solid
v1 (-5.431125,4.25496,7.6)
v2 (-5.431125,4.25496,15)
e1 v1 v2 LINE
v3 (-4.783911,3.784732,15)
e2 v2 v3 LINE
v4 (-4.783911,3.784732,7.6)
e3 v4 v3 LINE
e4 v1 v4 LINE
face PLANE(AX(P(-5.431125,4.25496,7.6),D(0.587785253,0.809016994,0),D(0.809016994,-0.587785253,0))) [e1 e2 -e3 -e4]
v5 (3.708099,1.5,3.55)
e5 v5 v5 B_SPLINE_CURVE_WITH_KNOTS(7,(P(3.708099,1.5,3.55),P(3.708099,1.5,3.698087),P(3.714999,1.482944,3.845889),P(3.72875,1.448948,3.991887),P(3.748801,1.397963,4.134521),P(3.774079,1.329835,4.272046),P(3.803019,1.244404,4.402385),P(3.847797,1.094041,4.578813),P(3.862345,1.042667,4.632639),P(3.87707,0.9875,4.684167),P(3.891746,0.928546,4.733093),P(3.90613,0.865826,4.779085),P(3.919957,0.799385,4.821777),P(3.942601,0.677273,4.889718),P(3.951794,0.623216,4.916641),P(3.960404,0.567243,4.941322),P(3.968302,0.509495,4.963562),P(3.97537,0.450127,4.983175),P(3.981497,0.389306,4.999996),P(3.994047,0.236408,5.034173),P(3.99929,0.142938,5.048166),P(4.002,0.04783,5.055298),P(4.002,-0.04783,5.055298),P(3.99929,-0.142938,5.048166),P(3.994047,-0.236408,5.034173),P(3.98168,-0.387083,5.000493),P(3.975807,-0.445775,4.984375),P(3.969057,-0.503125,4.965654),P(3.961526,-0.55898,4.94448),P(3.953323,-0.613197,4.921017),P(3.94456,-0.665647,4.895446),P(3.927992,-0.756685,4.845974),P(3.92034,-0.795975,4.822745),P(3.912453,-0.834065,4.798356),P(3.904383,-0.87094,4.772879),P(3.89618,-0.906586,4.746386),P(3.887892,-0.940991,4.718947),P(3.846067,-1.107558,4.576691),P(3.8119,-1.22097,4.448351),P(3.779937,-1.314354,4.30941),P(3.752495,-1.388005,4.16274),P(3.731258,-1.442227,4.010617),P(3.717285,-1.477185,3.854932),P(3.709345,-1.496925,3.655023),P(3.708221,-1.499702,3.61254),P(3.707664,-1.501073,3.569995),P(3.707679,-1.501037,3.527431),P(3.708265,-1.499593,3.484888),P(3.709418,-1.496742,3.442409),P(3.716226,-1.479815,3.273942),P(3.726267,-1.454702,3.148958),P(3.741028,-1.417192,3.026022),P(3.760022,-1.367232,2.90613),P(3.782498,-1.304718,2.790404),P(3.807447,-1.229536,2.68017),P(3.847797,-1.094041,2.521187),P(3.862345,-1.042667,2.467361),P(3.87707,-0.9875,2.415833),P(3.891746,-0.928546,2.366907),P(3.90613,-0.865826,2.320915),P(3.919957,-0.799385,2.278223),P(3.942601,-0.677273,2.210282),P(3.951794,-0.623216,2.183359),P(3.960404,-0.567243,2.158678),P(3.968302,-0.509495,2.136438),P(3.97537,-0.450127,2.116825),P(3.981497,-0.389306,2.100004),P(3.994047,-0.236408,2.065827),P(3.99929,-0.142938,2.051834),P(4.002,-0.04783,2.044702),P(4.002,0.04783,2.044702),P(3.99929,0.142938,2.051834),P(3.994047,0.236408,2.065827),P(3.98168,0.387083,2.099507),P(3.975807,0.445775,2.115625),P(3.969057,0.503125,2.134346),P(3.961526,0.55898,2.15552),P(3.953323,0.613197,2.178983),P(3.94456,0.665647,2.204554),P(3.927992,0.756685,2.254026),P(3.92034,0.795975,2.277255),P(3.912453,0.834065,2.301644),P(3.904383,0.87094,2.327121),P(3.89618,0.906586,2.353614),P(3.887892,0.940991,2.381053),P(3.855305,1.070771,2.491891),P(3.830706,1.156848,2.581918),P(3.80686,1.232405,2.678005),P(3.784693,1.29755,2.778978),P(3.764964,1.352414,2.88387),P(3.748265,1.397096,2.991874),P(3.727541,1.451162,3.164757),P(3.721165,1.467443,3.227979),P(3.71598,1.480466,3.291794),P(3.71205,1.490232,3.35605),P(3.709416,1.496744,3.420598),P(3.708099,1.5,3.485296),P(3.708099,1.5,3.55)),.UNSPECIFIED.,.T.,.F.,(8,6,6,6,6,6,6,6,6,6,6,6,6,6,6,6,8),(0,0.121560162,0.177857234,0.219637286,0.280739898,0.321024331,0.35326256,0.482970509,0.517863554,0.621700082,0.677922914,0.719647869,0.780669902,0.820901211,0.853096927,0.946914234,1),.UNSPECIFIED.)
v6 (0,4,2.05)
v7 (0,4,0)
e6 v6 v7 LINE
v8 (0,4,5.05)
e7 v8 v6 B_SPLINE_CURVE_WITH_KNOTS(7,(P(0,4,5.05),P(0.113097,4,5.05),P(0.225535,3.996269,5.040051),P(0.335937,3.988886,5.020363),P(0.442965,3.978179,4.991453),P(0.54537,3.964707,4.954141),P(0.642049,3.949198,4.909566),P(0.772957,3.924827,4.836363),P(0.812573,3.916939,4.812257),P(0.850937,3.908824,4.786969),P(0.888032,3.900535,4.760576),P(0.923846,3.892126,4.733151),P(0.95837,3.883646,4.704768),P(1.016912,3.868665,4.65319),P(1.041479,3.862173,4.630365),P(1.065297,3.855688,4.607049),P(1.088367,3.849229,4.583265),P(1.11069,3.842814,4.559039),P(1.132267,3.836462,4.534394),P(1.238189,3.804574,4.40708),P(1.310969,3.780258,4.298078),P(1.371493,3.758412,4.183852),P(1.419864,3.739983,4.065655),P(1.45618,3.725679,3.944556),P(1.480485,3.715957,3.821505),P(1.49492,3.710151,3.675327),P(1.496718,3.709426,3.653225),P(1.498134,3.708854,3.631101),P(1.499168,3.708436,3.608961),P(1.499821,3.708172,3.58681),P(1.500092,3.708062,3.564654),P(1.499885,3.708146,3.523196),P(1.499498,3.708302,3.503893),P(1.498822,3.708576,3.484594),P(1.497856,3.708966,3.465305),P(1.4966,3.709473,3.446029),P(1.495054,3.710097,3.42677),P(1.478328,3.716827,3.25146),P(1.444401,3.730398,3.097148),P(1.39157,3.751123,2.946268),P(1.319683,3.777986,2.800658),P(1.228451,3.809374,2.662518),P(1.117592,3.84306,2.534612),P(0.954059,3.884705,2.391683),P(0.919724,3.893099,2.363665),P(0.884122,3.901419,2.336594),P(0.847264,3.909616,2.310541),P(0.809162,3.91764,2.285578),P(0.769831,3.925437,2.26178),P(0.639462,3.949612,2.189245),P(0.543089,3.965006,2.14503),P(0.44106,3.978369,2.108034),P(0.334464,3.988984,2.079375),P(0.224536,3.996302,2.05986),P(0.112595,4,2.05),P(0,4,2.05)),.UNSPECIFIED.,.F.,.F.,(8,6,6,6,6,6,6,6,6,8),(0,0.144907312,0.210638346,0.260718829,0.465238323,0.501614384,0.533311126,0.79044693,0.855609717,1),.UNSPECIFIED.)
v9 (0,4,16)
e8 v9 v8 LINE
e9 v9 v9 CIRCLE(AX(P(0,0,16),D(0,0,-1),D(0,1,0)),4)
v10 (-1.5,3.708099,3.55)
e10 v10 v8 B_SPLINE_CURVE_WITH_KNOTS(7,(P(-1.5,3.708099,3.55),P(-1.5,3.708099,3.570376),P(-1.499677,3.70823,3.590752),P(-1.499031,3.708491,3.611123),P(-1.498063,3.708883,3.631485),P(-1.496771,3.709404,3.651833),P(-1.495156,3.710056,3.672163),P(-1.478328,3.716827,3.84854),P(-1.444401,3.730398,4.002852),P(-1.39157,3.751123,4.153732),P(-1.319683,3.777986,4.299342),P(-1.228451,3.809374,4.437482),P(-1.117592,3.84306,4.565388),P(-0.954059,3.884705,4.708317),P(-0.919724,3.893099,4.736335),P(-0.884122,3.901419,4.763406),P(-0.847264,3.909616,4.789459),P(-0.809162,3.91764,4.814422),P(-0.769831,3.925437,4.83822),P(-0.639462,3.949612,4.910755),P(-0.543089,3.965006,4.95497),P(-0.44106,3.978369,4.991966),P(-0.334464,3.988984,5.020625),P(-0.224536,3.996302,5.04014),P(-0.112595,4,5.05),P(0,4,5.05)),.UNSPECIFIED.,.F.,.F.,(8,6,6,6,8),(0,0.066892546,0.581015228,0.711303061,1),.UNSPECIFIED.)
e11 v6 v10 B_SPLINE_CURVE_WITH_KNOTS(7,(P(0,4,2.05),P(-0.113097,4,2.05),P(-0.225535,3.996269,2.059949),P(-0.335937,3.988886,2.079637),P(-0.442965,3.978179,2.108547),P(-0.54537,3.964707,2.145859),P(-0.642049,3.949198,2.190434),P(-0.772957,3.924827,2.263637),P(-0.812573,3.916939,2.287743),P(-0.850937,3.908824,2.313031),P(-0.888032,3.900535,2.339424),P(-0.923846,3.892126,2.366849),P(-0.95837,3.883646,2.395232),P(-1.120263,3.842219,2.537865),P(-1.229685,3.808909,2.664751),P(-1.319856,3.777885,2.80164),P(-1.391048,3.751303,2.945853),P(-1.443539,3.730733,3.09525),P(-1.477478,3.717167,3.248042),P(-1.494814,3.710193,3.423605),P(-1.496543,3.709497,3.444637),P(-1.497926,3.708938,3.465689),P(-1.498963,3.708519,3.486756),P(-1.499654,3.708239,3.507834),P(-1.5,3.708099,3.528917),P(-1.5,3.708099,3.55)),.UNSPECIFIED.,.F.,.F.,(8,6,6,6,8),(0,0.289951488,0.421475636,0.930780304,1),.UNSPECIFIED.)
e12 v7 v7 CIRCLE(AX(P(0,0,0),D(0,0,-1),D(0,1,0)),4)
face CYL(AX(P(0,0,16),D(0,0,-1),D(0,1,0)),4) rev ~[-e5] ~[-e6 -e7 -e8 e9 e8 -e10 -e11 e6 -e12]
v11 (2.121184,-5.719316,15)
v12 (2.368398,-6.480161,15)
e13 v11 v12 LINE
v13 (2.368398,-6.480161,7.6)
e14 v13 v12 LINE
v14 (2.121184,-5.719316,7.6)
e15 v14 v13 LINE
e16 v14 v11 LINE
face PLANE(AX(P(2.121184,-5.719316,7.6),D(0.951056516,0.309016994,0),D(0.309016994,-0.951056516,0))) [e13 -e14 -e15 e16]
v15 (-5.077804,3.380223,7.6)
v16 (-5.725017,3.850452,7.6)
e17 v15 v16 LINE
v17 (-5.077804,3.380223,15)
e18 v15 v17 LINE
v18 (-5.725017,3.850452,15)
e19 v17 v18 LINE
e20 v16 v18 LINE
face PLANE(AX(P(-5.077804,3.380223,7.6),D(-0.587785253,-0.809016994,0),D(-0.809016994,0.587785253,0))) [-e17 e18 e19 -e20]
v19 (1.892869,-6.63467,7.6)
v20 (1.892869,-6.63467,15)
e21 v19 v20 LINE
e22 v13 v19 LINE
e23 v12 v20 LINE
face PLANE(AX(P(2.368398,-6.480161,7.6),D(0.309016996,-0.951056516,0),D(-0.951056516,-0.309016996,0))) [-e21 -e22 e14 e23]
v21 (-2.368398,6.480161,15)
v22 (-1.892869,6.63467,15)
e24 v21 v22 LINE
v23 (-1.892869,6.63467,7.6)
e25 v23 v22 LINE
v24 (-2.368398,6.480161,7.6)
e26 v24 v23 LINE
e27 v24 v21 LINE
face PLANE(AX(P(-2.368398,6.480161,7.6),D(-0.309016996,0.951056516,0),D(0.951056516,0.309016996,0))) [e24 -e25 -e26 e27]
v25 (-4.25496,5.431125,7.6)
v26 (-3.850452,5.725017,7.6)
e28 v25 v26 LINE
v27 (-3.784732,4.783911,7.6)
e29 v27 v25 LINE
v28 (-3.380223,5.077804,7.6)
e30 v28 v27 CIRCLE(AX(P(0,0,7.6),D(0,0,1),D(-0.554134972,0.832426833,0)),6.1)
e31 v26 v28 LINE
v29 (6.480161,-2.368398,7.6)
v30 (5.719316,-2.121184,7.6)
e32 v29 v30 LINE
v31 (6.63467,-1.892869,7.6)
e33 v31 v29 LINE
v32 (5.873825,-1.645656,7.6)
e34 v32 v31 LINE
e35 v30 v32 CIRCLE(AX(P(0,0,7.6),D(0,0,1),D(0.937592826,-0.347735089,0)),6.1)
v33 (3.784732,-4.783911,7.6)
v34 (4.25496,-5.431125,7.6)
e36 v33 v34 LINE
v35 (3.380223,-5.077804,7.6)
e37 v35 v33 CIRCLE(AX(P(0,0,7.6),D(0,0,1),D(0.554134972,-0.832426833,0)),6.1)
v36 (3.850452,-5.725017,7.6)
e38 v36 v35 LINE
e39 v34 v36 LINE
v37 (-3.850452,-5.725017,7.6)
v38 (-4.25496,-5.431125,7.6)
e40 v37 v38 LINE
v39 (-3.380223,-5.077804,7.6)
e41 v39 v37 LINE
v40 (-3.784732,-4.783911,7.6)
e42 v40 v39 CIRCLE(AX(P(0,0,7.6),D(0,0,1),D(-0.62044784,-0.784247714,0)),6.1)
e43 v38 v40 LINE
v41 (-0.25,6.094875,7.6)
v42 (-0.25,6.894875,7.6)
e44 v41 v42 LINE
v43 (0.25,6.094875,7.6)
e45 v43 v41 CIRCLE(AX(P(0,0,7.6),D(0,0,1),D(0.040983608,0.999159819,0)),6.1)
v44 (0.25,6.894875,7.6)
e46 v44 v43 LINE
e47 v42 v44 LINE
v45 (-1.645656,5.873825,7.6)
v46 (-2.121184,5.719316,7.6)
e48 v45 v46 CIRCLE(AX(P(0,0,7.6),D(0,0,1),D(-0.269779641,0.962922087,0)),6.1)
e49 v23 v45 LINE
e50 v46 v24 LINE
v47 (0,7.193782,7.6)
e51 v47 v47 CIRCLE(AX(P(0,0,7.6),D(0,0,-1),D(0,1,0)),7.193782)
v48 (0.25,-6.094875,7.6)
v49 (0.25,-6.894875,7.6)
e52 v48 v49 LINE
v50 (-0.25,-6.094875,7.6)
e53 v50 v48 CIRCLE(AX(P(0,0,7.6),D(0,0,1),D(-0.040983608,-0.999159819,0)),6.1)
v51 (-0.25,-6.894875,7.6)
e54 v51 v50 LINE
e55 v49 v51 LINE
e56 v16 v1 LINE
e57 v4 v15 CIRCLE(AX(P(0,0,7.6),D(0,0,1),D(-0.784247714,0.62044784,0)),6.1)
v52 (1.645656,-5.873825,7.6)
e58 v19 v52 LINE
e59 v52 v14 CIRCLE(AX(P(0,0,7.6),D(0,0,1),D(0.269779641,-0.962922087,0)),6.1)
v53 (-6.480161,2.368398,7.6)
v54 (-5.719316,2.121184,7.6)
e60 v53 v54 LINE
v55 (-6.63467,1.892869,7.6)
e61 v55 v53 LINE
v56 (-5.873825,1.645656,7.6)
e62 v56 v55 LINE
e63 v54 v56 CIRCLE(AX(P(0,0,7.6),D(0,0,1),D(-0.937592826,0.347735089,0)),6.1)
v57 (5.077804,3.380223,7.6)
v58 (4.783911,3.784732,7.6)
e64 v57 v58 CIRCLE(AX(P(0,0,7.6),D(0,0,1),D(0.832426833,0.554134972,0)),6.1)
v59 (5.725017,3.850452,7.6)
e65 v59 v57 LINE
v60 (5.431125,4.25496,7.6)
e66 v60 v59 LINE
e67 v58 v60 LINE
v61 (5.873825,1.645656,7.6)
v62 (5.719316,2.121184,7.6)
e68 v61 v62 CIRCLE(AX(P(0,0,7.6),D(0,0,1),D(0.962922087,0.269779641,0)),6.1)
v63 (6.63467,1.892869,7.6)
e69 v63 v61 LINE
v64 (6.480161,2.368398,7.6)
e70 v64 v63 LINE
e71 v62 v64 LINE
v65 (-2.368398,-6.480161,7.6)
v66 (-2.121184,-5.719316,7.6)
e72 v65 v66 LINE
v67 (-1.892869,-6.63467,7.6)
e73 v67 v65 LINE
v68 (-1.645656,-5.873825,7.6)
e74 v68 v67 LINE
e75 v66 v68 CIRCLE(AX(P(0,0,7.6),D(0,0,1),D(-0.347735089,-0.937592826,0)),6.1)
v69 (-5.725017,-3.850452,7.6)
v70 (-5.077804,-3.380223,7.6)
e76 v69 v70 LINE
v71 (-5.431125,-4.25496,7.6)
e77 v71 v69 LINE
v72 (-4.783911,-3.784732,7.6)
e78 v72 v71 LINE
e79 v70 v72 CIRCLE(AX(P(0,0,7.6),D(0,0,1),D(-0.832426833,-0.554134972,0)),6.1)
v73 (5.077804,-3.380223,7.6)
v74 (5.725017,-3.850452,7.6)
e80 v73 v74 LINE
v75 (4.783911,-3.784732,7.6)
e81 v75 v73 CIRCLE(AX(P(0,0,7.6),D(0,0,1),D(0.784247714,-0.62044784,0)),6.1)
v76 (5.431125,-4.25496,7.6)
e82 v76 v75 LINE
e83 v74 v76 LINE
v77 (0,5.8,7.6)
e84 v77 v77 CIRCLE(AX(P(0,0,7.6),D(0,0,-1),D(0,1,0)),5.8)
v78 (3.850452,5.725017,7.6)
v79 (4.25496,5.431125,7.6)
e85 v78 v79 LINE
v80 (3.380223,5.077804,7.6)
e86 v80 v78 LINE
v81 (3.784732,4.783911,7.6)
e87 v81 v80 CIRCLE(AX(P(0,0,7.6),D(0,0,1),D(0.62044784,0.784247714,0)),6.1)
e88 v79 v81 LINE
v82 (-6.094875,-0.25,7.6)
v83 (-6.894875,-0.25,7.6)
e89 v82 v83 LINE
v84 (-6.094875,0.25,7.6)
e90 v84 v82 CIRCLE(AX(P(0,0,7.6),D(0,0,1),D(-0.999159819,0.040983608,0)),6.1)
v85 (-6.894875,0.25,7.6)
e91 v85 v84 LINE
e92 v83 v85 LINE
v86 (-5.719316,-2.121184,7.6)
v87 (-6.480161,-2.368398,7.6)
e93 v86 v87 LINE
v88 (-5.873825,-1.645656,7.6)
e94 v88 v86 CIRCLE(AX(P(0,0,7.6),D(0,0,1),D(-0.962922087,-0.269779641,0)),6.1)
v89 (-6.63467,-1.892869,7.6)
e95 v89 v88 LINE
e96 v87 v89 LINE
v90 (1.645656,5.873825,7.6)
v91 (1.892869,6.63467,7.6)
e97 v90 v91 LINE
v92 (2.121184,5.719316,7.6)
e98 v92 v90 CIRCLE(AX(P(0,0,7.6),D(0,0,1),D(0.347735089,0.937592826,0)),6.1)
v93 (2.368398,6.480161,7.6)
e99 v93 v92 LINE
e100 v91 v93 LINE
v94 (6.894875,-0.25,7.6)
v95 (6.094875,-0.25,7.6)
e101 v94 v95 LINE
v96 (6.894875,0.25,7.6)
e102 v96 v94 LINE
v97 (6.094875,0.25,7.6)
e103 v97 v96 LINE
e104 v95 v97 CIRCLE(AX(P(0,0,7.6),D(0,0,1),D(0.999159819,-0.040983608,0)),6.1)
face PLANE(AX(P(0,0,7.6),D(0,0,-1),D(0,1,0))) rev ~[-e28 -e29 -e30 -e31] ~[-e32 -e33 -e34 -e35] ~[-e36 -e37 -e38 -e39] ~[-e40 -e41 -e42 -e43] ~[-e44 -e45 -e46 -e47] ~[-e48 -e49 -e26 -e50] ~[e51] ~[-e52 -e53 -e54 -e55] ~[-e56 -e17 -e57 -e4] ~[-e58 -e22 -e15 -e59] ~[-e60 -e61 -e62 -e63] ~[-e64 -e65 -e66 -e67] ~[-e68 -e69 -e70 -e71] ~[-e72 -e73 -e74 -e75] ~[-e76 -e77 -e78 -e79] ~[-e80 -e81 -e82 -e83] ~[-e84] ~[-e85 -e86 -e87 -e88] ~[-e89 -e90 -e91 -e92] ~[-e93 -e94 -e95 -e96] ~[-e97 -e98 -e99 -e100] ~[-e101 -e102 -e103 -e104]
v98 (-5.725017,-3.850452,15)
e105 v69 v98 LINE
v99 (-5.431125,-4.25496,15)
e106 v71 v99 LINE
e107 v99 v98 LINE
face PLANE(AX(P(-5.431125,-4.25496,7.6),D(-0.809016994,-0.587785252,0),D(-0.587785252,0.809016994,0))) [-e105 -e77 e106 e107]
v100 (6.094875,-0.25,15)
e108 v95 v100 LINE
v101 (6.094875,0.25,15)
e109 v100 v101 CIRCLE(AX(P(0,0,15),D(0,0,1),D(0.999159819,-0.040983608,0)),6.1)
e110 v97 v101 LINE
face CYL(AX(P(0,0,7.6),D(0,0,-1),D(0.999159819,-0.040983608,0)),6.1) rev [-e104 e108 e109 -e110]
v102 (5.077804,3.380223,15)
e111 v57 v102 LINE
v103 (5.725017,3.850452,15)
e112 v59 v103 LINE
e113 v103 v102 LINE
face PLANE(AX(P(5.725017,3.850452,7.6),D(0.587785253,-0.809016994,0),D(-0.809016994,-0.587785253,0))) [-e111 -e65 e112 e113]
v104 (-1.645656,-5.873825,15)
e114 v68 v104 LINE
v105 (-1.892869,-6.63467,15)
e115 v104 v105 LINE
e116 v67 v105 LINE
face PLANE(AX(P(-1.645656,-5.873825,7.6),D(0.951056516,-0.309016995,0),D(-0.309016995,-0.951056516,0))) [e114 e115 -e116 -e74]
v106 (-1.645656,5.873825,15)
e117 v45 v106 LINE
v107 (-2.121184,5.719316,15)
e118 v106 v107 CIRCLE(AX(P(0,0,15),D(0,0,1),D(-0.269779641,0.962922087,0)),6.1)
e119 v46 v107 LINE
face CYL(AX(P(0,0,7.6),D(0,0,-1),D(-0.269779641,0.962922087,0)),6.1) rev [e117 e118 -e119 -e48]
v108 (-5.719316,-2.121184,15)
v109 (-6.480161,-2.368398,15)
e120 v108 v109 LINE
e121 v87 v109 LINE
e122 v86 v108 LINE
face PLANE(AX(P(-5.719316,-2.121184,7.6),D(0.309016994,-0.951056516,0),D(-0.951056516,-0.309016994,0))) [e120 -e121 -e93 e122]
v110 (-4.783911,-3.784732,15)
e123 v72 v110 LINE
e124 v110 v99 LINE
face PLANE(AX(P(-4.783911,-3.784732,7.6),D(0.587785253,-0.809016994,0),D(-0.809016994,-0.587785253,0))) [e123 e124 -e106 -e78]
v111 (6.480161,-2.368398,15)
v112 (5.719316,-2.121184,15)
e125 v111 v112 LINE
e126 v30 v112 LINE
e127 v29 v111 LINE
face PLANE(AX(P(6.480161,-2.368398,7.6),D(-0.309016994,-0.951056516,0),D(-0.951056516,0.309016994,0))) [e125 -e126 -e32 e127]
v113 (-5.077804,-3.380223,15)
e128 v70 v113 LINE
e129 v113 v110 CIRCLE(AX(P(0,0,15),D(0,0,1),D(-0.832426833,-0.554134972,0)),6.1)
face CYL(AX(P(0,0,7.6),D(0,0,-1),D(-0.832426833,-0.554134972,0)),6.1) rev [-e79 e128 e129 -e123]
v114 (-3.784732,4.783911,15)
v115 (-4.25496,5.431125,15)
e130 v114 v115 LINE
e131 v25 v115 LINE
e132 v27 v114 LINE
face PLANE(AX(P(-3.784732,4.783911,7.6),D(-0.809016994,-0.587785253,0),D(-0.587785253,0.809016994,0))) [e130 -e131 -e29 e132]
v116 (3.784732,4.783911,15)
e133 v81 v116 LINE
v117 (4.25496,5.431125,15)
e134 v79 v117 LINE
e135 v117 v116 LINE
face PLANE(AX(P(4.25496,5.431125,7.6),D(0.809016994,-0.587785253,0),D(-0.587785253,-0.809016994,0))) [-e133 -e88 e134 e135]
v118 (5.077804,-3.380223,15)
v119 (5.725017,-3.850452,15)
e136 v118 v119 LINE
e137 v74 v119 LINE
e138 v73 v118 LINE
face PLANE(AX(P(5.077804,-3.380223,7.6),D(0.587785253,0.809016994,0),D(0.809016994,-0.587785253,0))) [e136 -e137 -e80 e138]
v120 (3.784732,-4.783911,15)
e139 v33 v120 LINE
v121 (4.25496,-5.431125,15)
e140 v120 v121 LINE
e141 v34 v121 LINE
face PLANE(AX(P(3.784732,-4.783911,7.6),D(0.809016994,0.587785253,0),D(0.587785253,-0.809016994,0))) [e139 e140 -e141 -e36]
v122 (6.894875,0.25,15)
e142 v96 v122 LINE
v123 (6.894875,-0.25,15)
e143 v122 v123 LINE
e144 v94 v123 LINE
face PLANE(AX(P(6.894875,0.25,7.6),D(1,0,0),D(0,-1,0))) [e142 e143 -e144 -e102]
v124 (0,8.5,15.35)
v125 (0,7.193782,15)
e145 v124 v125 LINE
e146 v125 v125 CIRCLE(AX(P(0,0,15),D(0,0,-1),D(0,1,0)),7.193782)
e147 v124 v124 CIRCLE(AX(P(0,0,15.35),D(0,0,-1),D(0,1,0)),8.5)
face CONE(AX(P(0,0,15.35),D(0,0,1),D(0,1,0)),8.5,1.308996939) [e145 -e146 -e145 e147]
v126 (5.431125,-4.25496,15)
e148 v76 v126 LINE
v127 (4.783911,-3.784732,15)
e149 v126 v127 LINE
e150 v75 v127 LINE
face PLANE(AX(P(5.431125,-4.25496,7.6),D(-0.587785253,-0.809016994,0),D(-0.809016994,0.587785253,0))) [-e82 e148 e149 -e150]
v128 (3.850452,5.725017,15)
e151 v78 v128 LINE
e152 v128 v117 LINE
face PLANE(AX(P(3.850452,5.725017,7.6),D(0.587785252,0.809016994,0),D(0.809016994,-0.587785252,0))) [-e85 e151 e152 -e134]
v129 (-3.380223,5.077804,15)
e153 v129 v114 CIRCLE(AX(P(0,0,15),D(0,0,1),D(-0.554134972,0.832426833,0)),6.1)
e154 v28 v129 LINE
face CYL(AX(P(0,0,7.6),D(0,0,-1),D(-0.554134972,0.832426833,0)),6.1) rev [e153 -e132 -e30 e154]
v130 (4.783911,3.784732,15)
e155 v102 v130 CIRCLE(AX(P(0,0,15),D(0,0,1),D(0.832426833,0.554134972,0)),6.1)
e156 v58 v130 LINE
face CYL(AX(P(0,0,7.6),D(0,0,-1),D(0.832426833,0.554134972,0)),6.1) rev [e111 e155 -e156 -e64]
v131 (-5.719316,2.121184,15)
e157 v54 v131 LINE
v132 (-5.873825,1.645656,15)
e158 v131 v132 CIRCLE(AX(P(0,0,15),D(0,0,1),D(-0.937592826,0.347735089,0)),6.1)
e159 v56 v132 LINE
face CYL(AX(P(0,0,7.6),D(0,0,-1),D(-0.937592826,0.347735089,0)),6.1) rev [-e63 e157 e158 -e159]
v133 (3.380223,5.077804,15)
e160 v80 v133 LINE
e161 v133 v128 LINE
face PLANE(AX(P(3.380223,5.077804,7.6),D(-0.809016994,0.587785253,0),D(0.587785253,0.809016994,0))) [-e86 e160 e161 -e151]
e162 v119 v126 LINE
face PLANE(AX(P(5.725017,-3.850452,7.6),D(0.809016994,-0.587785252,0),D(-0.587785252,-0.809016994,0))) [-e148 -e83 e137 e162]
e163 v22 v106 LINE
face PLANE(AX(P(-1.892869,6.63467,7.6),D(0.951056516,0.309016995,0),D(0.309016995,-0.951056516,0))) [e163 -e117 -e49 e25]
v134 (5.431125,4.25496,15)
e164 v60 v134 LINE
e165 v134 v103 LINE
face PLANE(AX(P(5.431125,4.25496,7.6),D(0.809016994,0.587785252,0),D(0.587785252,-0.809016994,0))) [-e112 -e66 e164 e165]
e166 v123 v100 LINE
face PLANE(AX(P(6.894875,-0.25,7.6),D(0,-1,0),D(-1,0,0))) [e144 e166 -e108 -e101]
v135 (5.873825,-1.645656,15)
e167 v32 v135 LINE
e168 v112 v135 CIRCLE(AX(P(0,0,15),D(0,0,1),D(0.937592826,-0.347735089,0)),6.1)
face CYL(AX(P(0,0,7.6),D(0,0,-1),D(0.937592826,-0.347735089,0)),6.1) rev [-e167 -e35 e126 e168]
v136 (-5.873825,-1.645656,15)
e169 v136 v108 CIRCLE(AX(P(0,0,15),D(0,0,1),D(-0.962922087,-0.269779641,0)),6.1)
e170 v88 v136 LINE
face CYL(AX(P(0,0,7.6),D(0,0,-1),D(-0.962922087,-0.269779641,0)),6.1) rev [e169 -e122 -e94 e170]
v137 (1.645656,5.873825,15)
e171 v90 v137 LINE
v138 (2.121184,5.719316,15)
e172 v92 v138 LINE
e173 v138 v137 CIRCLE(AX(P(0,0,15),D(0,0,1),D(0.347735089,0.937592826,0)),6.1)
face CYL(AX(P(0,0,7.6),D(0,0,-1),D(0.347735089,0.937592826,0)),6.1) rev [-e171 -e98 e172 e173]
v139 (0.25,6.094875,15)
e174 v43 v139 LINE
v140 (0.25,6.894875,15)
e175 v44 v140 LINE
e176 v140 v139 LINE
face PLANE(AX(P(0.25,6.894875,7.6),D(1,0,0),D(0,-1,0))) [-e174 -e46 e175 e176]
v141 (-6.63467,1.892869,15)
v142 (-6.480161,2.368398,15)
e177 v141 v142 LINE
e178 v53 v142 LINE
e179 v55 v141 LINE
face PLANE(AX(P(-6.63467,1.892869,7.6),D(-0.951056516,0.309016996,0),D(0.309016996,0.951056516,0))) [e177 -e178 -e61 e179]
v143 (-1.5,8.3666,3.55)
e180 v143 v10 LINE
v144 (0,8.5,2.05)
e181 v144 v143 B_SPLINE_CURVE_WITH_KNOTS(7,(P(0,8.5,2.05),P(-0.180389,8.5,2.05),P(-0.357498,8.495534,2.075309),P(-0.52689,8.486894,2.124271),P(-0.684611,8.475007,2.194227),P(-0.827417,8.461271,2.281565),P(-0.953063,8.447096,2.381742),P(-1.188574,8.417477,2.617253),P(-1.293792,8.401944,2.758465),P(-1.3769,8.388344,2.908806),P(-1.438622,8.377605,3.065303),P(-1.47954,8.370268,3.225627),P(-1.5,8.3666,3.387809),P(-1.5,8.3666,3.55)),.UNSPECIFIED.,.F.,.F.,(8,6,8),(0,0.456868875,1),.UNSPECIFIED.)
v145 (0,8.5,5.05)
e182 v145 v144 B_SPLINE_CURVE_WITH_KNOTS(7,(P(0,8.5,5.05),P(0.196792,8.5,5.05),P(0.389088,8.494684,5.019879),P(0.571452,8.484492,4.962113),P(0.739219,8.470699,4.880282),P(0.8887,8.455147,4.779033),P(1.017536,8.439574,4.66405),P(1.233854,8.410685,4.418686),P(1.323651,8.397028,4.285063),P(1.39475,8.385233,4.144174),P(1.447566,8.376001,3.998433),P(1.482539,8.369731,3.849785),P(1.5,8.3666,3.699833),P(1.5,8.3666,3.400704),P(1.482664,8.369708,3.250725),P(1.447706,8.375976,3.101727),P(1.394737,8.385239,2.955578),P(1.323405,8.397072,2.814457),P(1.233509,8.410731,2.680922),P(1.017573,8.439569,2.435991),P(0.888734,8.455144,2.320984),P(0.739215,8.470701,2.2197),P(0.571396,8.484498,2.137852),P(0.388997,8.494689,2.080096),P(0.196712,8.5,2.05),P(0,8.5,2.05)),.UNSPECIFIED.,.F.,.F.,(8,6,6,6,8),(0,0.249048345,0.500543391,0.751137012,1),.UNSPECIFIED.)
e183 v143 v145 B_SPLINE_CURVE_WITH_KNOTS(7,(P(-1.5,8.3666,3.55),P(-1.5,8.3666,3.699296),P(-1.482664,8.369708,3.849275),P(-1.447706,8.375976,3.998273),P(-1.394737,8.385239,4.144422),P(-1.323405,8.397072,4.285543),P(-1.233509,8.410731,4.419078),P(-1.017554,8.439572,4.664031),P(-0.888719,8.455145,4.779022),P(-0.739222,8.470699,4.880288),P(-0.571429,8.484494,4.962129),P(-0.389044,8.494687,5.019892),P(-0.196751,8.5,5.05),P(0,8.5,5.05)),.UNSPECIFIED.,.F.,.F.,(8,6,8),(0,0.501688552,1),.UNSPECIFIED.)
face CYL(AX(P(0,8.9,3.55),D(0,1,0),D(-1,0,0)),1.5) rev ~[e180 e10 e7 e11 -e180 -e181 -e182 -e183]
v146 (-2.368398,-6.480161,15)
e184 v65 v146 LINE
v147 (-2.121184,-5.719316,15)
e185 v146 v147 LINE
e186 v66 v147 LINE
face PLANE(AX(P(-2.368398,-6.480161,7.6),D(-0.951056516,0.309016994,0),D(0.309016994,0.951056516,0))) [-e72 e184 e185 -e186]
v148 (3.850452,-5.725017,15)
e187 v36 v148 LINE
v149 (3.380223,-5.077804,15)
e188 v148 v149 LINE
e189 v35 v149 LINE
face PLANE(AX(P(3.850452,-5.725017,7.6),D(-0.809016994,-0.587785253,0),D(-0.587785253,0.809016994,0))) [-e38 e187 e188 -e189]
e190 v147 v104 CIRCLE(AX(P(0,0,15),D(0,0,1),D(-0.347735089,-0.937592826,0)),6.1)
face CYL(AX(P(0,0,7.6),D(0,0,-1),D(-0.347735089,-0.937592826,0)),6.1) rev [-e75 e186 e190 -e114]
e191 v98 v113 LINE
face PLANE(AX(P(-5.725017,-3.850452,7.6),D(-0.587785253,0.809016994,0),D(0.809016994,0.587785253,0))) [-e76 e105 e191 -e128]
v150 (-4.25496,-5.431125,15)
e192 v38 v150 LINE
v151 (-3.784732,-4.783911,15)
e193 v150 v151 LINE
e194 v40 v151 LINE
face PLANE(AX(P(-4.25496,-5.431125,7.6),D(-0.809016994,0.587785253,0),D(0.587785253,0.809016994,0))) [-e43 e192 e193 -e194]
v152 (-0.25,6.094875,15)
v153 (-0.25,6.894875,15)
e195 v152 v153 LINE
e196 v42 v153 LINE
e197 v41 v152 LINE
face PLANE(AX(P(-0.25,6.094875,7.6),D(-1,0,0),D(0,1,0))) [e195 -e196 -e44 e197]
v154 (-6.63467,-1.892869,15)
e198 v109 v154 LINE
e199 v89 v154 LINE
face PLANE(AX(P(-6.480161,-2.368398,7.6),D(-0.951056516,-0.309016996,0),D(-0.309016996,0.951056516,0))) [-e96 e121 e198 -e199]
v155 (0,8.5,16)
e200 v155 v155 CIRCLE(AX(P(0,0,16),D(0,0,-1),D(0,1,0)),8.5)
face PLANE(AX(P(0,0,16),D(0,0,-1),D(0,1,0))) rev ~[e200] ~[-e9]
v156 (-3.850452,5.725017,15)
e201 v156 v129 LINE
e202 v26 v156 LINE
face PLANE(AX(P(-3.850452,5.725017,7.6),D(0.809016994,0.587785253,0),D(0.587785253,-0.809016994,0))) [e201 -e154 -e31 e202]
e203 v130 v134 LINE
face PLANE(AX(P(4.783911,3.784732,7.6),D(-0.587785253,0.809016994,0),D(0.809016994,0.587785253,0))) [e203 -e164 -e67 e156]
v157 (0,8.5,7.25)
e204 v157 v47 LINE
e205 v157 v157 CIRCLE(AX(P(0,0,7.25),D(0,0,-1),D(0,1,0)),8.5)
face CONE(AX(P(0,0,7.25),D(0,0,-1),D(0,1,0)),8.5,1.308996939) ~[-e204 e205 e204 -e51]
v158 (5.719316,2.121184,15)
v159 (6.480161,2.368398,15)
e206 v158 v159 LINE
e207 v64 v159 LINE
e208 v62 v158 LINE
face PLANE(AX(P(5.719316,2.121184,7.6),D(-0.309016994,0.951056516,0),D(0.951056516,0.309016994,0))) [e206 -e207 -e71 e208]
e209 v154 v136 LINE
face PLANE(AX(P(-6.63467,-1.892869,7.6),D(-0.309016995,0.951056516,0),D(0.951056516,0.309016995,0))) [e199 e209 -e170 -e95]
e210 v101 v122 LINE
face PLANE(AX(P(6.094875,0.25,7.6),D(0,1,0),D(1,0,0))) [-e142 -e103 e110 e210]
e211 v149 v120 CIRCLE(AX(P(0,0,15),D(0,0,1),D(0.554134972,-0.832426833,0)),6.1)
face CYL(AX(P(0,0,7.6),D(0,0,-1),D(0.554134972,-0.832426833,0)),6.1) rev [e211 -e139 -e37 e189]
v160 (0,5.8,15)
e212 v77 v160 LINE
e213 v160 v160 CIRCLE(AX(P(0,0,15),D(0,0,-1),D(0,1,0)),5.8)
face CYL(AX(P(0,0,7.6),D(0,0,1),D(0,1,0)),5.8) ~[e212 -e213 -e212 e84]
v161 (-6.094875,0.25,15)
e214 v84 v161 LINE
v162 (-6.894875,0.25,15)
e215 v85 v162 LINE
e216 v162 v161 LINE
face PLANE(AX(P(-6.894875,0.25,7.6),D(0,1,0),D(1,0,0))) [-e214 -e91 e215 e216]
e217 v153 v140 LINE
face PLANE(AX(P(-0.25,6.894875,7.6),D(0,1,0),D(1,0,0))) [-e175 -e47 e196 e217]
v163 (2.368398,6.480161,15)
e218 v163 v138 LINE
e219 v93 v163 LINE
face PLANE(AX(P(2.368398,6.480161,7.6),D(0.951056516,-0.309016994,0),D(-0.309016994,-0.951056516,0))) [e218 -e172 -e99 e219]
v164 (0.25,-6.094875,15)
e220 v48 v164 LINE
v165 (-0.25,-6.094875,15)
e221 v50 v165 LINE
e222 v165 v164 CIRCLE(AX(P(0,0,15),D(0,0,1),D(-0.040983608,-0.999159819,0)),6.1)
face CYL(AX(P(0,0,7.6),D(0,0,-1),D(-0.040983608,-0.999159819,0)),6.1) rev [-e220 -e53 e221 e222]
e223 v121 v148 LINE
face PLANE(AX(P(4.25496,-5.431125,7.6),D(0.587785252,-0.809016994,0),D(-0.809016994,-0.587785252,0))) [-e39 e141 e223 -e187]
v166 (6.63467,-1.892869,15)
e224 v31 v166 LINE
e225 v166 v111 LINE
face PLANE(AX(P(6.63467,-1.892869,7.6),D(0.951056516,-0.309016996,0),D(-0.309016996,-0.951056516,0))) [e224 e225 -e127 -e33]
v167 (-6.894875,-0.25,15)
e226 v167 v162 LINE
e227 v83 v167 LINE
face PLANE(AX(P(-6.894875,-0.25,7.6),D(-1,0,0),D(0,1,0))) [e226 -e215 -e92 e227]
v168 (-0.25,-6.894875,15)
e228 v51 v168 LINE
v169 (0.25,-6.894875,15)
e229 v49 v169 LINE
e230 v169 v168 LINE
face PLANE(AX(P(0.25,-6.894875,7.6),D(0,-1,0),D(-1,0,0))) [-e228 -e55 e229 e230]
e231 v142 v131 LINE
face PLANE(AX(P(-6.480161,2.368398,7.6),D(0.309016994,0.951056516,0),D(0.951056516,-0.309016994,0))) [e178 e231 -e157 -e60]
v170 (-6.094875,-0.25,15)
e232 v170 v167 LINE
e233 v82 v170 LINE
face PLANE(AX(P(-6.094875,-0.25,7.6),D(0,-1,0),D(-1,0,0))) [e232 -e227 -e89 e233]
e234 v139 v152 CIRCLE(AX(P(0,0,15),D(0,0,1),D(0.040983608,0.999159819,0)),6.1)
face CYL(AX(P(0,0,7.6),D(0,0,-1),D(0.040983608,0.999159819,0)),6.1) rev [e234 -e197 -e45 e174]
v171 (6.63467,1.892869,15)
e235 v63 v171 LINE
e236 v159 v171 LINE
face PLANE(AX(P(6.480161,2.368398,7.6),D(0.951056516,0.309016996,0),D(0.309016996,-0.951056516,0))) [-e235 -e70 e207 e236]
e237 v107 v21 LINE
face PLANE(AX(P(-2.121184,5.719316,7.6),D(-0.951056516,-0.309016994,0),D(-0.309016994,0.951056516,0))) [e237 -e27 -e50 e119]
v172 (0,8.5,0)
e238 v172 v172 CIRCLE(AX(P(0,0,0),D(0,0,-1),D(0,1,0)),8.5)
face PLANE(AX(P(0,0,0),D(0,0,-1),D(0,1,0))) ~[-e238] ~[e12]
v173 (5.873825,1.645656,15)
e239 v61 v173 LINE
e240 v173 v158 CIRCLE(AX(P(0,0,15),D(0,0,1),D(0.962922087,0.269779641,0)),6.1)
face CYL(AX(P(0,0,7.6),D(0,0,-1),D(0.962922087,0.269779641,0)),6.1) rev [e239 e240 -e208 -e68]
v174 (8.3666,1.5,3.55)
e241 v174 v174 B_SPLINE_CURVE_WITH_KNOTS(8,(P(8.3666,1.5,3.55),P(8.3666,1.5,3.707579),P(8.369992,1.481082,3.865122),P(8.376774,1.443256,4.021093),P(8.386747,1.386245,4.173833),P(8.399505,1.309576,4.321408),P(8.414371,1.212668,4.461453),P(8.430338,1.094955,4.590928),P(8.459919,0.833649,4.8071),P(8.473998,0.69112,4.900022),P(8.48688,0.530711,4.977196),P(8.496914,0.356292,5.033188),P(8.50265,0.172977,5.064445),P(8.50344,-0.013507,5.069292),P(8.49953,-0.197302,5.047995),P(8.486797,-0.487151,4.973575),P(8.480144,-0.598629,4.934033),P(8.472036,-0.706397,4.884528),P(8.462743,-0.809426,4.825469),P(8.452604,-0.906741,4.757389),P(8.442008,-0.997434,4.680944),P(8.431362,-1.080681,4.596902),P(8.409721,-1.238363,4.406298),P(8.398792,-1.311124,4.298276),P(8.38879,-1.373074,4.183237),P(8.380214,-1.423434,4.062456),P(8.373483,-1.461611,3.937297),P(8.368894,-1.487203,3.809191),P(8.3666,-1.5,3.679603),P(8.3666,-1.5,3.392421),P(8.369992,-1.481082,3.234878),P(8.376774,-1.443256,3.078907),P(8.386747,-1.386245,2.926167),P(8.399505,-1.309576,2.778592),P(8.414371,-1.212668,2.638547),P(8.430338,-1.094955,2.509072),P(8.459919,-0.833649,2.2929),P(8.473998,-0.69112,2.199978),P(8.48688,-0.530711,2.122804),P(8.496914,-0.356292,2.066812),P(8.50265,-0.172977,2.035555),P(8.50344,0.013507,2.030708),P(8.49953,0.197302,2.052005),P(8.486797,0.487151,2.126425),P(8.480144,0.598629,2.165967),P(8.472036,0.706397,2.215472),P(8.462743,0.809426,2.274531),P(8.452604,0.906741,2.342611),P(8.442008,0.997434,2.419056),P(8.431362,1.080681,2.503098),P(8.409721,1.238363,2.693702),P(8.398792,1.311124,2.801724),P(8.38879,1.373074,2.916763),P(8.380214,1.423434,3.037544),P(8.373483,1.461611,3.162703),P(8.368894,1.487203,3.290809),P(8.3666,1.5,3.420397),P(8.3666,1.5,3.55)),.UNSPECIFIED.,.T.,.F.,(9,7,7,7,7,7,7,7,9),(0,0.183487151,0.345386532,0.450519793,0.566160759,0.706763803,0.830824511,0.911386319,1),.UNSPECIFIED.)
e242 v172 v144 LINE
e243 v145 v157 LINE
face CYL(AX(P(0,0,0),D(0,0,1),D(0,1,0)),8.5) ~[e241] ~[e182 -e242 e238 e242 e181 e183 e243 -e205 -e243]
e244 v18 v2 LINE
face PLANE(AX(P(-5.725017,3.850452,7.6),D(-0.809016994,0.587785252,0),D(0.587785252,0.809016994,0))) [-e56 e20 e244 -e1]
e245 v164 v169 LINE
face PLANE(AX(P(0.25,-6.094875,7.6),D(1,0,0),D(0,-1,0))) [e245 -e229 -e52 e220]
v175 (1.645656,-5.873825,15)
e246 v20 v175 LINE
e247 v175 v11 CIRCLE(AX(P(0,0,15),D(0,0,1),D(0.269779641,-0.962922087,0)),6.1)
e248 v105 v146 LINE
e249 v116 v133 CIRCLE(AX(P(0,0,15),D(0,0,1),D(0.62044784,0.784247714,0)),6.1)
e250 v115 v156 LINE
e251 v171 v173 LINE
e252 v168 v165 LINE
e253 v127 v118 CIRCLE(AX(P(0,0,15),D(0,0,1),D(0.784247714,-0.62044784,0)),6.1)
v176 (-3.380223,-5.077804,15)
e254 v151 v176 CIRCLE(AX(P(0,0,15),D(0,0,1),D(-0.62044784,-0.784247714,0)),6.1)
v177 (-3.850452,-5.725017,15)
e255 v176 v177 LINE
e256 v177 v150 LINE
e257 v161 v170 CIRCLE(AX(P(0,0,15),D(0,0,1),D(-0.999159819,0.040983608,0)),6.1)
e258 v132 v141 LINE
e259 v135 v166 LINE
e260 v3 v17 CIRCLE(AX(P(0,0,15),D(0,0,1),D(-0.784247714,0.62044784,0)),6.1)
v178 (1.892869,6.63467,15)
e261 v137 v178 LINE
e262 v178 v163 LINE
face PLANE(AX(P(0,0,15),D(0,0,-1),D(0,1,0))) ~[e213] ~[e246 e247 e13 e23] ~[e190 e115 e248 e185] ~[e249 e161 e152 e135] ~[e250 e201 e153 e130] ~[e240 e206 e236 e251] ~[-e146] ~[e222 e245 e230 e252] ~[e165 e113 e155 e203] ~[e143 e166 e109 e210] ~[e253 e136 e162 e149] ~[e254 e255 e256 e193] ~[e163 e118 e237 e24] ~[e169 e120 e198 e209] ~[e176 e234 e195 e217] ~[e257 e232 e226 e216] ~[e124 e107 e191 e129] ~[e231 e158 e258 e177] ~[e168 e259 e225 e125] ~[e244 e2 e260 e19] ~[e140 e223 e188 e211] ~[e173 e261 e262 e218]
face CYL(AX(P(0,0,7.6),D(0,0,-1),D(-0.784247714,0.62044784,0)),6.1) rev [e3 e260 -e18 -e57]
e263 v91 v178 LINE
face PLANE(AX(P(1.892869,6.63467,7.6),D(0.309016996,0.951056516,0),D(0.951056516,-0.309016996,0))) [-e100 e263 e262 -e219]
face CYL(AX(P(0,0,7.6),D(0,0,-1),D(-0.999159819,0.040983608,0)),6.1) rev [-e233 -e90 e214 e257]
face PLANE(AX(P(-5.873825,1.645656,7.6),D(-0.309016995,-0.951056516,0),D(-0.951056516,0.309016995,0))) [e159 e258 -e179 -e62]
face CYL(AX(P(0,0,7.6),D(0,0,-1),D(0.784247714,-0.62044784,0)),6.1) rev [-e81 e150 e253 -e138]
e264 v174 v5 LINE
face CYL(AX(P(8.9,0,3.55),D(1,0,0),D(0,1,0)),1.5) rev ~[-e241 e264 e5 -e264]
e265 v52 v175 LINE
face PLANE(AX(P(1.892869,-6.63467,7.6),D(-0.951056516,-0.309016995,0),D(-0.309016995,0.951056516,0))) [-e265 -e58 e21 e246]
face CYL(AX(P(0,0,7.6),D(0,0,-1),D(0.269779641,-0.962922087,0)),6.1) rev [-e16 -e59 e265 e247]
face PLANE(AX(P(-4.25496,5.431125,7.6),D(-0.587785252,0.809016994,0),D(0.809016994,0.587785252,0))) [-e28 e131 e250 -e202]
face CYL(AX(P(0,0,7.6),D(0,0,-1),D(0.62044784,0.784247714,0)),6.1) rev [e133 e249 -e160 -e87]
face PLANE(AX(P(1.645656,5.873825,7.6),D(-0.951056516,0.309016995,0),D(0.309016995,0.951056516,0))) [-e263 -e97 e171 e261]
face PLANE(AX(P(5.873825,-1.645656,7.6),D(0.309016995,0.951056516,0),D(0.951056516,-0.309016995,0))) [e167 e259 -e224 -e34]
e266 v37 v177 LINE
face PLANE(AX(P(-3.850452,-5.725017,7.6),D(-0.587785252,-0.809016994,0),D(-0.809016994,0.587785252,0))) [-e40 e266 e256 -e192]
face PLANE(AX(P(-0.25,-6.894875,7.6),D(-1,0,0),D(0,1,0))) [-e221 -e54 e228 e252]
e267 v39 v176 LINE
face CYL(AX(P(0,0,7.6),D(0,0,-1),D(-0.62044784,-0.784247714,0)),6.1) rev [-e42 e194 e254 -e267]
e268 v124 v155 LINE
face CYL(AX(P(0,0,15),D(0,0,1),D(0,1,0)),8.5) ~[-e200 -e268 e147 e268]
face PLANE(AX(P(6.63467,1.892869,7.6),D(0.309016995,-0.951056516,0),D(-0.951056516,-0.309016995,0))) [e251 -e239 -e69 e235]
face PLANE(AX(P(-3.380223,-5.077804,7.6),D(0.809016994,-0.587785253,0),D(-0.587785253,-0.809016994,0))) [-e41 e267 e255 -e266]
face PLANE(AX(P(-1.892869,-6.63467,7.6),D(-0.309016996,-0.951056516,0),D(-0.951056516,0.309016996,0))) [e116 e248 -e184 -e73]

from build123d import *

# Parameters (mm, degrees)
CHAMFER1_SIZE       = 0.35
CHAMFER1_SIZE2      = 1.306217783
CHAMFER2_SIZE       = 0.35
CHAMFER2_SIZE2      = 1.306217783
BOSS_EXTRUDE1_DEPTH = 7.4
SKETCH6_R           = 1.5
CUT_EXTRUDE1_DEPTH  = 10
CIRPATTERN1_COUNT   = 2
CIRPATTERN1_ANGLE   = 270


with BuildPart() as part:
    # Sketch2 → Revolve1 (revolve)
    with BuildSketch(Plane(origin=(0, 0, 0), x_dir=(0, 0, -1), z_dir=(1, 0, 0))):
        Polygon((-16, 4), (0, 4), (0, 8.5), (-7.6, 8.5), (-7.6, 5.8), (-15, 5.8), (-15, 8.5), (-16, 8.5), align=None)
    revolve(axis=Axis((0, 0, 79.609460318), (0, 0, -1)))

    # Chamfer1
    chamfer1_edges = [part.edges().sort_by_distance(p)[0] for p in [
        (0, -8.5, 15),
    ]]
    chamfer1_side = [part.faces().sort_by_distance(p)[0] for p in [
        (0, -8.5, 15.5),
    ]]
    chamfer(chamfer1_edges, length=CHAMFER1_SIZE, length2=CHAMFER1_SIZE2, reference=chamfer1_side[0])

    # Chamfer2
    chamfer2_edges = [part.edges().sort_by_distance(p)[0] for p in [
        (0, -8.5, 7.6),
    ]]
    chamfer2_side = [part.faces().sort_by_distance(p)[0] for p in [
        (0, -8.5, 3.8),
    ]]
    chamfer(chamfer2_edges, length=CHAMFER2_SIZE, length2=CHAMFER2_SIZE2, reference=chamfer2_side[0])

    # Sketch4 → Boss-Extrude1 (add)
    with BuildSketch(Plane.XY.offset(7.6)):
        with BuildLine():
            Line((1.645655792, 5.873824735), (1.892869388, 6.634669948))
            Line((1.892869388, 6.634669948), (2.368397646, 6.48016145))
            Line((2.368397646, 6.48016145), (2.121184051, 5.719316237))
            ThreePointArc((2.121184051, 5.719316237), (1.885003666, 5.801444749), (1.645655792, 5.873824735))
        make_face()
        with BuildLine():
            Line((-0.25, 6.094874896), (-0.25, 6.894874896))
            Line((-0.25, 6.894874896), (0.25, 6.894874896))
            Line((0.25, 6.894874896), (0.25, 6.094874896))
            ThreePointArc((0.25, 6.094874896), (0, 6.1), (-0.25, 6.094874896))
        make_face()
        with BuildLine():
            Line((3.38022333, 5.077803683), (3.850451532, 5.725017278))
            Line((3.850451532, 5.725017278), (4.254960029, 5.431124652))
            Line((4.254960029, 5.431124652), (3.784731827, 4.783911057))
            ThreePointArc((3.784731827, 4.783911057), (3.585490039, 4.935003666), (3.38022333, 5.077803683))
        make_face()
        with BuildLine():
            Line((4.783911057, 3.784731827), (5.431124652, 4.254960029))
            Line((5.431124652, 4.254960029), (5.725017278, 3.850451532))
            Line((5.725017278, 3.850451532), (5.077803683, 3.38022333))
            ThreePointArc((5.077803683, 3.38022333), (4.935003666, 3.585490039), (4.783911057, 3.784731827))
        make_face()
        with BuildLine():
            Line((5.719316237, 2.121184051), (6.48016145, 2.368397646))
            Line((6.48016145, 2.368397646), (6.634669948, 1.892869388))
            Line((6.634669948, 1.892869388), (5.873824735, 1.645655792))
            ThreePointArc((5.873824735, 1.645655792), (5.801444749, 1.885003666), (5.719316237, 2.121184051))
        make_face()
        with BuildLine():
            Line((6.094874896, 0.25), (6.894874896, 0.25))
            Line((6.894874896, 0.25), (6.894874896, -0.25))
            Line((6.894874896, -0.25), (6.094874896, -0.25))
            ThreePointArc((6.094874896, -0.25), (6.1, 0), (6.094874896, 0.25))
        make_face()
        with BuildLine():
            Line((5.873824735, -1.645655792), (6.634669948, -1.892869388))
            Line((6.634669948, -1.892869388), (6.48016145, -2.368397646))
            Line((6.48016145, -2.368397646), (5.719316237, -2.121184051))
            ThreePointArc((5.719316237, -2.121184051), (5.801444749, -1.885003666), (5.873824735, -1.645655792))
        make_face()
        with BuildLine():
            Line((5.077803683, -3.38022333), (5.725017278, -3.850451532))
            Line((5.725017278, -3.850451532), (5.431124652, -4.254960029))
            Line((5.431124652, -4.254960029), (4.783911057, -3.784731827))
            ThreePointArc((4.783911057, -3.784731827), (4.935003666, -3.585490039), (5.077803683, -3.38022333))
        make_face()
        with BuildLine():
            Line((3.784731827, -4.783911057), (4.254960029, -5.431124652))
            Line((4.254960029, -5.431124652), (3.850451532, -5.725017278))
            Line((3.850451532, -5.725017278), (3.38022333, -5.077803683))
            ThreePointArc((3.38022333, -5.077803683), (3.585490039, -4.935003666), (3.784731827, -4.783911057))
        make_face()
        with BuildLine():
            Line((2.121184051, -5.719316237), (2.368397646, -6.48016145))
            Line((2.368397646, -6.48016145), (1.892869388, -6.634669948))
            Line((1.892869388, -6.634669948), (1.645655792, -5.873824735))
            ThreePointArc((1.645655792, -5.873824735), (1.885003666, -5.801444749), (2.121184051, -5.719316237))
        make_face()
        with BuildLine():
            Line((0.25, -6.094874896), (0.25, -6.894874896))
            Line((0.25, -6.894874896), (-0.25, -6.894874896))
            Line((-0.25, -6.894874896), (-0.25, -6.094874896))
            ThreePointArc((-0.25, -6.094874896), (0, -6.1), (0.25, -6.094874896))
        make_face()
        with BuildLine():
            Line((-1.645655792, -5.873824735), (-1.892869388, -6.634669948))
            Line((-1.892869388, -6.634669948), (-2.368397646, -6.48016145))
            Line((-2.368397646, -6.48016145), (-2.121184051, -5.719316237))
            ThreePointArc((-2.121184051, -5.719316237), (-1.885003666, -5.801444749), (-1.645655792, -5.873824735))
        make_face()
        with BuildLine():
            Line((-3.38022333, -5.077803683), (-3.850451532, -5.725017278))
            Line((-3.850451532, -5.725017278), (-4.254960029, -5.431124652))
            Line((-4.254960029, -5.431124652), (-3.784731827, -4.783911057))
            ThreePointArc((-3.784731827, -4.783911057), (-3.585490039, -4.935003666), (-3.38022333, -5.077803683))
        make_face()
        with BuildLine():
            Line((-4.783911057, -3.784731827), (-5.431124652, -4.254960029))
            Line((-5.431124652, -4.254960029), (-5.725017278, -3.850451532))
            Line((-5.725017278, -3.850451532), (-5.077803683, -3.38022333))
            ThreePointArc((-5.077803683, -3.38022333), (-4.935003666, -3.585490039), (-4.783911057, -3.784731827))
        make_face()
        with BuildLine():
            Line((-5.719316237, -2.121184051), (-6.48016145, -2.368397646))
            Line((-6.48016145, -2.368397646), (-6.634669948, -1.892869388))
            Line((-6.634669948, -1.892869388), (-5.873824735, -1.645655792))
            ThreePointArc((-5.873824735, -1.645655792), (-5.801444749, -1.885003666), (-5.719316237, -2.121184051))
        make_face()
        with BuildLine():
            Line((-6.094874896, -0.25), (-6.894874896, -0.25))
            Line((-6.894874896, -0.25), (-6.894874896, 0.25))
            Line((-6.894874896, 0.25), (-6.094874896, 0.25))
            ThreePointArc((-6.094874896, 0.25), (-6.1, 0), (-6.094874896, -0.25))
        make_face()
        with BuildLine():
            Line((-5.873824735, 1.645655792), (-6.634669948, 1.892869388))
            Line((-6.634669948, 1.892869388), (-6.48016145, 2.368397646))
            Line((-6.48016145, 2.368397646), (-5.719316237, 2.121184051))
            ThreePointArc((-5.719316237, 2.121184051), (-5.801444749, 1.885003666), (-5.873824735, 1.645655792))
        make_face()
        with BuildLine():
            Line((-5.077803683, 3.38022333), (-5.725017278, 3.850451532))
            Line((-5.725017278, 3.850451532), (-5.431124652, 4.254960029))
            Line((-5.431124652, 4.254960029), (-4.783911057, 3.784731827))
            ThreePointArc((-4.783911057, 3.784731827), (-4.935003666, 3.585490039), (-5.077803683, 3.38022333))
        make_face()
        with BuildLine():
            Line((-3.784731827, 4.783911057), (-4.254960029, 5.431124652))
            Line((-4.254960029, 5.431124652), (-3.850451532, 5.725017278))
            Line((-3.850451532, 5.725017278), (-3.38022333, 5.077803683))
            ThreePointArc((-3.38022333, 5.077803683), (-3.585490039, 4.935003666), (-3.784731827, 4.783911057))
        make_face()
        with BuildLine():
            Line((-2.121184051, 5.719316237), (-2.368397646, 6.48016145))
            Line((-2.368397646, 6.48016145), (-1.892869388, 6.634669948))
            Line((-1.892869388, 6.634669948), (-1.645655792, 5.873824735))
            ThreePointArc((-1.645655792, 5.873824735), (-1.885003666, 5.801444749), (-2.121184051, 5.719316237))
        make_face()
    extrude(amount=BOSS_EXTRUDE1_DEPTH)

    # Sketch6 → Cut-Extrude1 (cut)
    with BuildSketch(Plane(origin=(0, 8.9, 0), x_dir=(-1, 0, 0), z_dir=(0, 1, 0))):
        with Locations((0, 3.55)):
            Circle(SKETCH6_R)
    cut_extrude1 = extrude(amount=-CUT_EXTRUDE1_DEPTH, mode=Mode.SUBTRACT)

    # CirPattern1: Cut-Extrude1 ×2 about axis
    cirpattern1_axis = Axis((0, 0, 0), (0, 0, 1))
    for i in range(1, CIRPATTERN1_COUNT):
        add(cut_extrude1.rotate(cirpattern1_axis, i * CIRPATTERN1_ANGLE / (CIRPATTERN1_COUNT - 1)), mode=Mode.SUBTRACT)


solid = part.part
